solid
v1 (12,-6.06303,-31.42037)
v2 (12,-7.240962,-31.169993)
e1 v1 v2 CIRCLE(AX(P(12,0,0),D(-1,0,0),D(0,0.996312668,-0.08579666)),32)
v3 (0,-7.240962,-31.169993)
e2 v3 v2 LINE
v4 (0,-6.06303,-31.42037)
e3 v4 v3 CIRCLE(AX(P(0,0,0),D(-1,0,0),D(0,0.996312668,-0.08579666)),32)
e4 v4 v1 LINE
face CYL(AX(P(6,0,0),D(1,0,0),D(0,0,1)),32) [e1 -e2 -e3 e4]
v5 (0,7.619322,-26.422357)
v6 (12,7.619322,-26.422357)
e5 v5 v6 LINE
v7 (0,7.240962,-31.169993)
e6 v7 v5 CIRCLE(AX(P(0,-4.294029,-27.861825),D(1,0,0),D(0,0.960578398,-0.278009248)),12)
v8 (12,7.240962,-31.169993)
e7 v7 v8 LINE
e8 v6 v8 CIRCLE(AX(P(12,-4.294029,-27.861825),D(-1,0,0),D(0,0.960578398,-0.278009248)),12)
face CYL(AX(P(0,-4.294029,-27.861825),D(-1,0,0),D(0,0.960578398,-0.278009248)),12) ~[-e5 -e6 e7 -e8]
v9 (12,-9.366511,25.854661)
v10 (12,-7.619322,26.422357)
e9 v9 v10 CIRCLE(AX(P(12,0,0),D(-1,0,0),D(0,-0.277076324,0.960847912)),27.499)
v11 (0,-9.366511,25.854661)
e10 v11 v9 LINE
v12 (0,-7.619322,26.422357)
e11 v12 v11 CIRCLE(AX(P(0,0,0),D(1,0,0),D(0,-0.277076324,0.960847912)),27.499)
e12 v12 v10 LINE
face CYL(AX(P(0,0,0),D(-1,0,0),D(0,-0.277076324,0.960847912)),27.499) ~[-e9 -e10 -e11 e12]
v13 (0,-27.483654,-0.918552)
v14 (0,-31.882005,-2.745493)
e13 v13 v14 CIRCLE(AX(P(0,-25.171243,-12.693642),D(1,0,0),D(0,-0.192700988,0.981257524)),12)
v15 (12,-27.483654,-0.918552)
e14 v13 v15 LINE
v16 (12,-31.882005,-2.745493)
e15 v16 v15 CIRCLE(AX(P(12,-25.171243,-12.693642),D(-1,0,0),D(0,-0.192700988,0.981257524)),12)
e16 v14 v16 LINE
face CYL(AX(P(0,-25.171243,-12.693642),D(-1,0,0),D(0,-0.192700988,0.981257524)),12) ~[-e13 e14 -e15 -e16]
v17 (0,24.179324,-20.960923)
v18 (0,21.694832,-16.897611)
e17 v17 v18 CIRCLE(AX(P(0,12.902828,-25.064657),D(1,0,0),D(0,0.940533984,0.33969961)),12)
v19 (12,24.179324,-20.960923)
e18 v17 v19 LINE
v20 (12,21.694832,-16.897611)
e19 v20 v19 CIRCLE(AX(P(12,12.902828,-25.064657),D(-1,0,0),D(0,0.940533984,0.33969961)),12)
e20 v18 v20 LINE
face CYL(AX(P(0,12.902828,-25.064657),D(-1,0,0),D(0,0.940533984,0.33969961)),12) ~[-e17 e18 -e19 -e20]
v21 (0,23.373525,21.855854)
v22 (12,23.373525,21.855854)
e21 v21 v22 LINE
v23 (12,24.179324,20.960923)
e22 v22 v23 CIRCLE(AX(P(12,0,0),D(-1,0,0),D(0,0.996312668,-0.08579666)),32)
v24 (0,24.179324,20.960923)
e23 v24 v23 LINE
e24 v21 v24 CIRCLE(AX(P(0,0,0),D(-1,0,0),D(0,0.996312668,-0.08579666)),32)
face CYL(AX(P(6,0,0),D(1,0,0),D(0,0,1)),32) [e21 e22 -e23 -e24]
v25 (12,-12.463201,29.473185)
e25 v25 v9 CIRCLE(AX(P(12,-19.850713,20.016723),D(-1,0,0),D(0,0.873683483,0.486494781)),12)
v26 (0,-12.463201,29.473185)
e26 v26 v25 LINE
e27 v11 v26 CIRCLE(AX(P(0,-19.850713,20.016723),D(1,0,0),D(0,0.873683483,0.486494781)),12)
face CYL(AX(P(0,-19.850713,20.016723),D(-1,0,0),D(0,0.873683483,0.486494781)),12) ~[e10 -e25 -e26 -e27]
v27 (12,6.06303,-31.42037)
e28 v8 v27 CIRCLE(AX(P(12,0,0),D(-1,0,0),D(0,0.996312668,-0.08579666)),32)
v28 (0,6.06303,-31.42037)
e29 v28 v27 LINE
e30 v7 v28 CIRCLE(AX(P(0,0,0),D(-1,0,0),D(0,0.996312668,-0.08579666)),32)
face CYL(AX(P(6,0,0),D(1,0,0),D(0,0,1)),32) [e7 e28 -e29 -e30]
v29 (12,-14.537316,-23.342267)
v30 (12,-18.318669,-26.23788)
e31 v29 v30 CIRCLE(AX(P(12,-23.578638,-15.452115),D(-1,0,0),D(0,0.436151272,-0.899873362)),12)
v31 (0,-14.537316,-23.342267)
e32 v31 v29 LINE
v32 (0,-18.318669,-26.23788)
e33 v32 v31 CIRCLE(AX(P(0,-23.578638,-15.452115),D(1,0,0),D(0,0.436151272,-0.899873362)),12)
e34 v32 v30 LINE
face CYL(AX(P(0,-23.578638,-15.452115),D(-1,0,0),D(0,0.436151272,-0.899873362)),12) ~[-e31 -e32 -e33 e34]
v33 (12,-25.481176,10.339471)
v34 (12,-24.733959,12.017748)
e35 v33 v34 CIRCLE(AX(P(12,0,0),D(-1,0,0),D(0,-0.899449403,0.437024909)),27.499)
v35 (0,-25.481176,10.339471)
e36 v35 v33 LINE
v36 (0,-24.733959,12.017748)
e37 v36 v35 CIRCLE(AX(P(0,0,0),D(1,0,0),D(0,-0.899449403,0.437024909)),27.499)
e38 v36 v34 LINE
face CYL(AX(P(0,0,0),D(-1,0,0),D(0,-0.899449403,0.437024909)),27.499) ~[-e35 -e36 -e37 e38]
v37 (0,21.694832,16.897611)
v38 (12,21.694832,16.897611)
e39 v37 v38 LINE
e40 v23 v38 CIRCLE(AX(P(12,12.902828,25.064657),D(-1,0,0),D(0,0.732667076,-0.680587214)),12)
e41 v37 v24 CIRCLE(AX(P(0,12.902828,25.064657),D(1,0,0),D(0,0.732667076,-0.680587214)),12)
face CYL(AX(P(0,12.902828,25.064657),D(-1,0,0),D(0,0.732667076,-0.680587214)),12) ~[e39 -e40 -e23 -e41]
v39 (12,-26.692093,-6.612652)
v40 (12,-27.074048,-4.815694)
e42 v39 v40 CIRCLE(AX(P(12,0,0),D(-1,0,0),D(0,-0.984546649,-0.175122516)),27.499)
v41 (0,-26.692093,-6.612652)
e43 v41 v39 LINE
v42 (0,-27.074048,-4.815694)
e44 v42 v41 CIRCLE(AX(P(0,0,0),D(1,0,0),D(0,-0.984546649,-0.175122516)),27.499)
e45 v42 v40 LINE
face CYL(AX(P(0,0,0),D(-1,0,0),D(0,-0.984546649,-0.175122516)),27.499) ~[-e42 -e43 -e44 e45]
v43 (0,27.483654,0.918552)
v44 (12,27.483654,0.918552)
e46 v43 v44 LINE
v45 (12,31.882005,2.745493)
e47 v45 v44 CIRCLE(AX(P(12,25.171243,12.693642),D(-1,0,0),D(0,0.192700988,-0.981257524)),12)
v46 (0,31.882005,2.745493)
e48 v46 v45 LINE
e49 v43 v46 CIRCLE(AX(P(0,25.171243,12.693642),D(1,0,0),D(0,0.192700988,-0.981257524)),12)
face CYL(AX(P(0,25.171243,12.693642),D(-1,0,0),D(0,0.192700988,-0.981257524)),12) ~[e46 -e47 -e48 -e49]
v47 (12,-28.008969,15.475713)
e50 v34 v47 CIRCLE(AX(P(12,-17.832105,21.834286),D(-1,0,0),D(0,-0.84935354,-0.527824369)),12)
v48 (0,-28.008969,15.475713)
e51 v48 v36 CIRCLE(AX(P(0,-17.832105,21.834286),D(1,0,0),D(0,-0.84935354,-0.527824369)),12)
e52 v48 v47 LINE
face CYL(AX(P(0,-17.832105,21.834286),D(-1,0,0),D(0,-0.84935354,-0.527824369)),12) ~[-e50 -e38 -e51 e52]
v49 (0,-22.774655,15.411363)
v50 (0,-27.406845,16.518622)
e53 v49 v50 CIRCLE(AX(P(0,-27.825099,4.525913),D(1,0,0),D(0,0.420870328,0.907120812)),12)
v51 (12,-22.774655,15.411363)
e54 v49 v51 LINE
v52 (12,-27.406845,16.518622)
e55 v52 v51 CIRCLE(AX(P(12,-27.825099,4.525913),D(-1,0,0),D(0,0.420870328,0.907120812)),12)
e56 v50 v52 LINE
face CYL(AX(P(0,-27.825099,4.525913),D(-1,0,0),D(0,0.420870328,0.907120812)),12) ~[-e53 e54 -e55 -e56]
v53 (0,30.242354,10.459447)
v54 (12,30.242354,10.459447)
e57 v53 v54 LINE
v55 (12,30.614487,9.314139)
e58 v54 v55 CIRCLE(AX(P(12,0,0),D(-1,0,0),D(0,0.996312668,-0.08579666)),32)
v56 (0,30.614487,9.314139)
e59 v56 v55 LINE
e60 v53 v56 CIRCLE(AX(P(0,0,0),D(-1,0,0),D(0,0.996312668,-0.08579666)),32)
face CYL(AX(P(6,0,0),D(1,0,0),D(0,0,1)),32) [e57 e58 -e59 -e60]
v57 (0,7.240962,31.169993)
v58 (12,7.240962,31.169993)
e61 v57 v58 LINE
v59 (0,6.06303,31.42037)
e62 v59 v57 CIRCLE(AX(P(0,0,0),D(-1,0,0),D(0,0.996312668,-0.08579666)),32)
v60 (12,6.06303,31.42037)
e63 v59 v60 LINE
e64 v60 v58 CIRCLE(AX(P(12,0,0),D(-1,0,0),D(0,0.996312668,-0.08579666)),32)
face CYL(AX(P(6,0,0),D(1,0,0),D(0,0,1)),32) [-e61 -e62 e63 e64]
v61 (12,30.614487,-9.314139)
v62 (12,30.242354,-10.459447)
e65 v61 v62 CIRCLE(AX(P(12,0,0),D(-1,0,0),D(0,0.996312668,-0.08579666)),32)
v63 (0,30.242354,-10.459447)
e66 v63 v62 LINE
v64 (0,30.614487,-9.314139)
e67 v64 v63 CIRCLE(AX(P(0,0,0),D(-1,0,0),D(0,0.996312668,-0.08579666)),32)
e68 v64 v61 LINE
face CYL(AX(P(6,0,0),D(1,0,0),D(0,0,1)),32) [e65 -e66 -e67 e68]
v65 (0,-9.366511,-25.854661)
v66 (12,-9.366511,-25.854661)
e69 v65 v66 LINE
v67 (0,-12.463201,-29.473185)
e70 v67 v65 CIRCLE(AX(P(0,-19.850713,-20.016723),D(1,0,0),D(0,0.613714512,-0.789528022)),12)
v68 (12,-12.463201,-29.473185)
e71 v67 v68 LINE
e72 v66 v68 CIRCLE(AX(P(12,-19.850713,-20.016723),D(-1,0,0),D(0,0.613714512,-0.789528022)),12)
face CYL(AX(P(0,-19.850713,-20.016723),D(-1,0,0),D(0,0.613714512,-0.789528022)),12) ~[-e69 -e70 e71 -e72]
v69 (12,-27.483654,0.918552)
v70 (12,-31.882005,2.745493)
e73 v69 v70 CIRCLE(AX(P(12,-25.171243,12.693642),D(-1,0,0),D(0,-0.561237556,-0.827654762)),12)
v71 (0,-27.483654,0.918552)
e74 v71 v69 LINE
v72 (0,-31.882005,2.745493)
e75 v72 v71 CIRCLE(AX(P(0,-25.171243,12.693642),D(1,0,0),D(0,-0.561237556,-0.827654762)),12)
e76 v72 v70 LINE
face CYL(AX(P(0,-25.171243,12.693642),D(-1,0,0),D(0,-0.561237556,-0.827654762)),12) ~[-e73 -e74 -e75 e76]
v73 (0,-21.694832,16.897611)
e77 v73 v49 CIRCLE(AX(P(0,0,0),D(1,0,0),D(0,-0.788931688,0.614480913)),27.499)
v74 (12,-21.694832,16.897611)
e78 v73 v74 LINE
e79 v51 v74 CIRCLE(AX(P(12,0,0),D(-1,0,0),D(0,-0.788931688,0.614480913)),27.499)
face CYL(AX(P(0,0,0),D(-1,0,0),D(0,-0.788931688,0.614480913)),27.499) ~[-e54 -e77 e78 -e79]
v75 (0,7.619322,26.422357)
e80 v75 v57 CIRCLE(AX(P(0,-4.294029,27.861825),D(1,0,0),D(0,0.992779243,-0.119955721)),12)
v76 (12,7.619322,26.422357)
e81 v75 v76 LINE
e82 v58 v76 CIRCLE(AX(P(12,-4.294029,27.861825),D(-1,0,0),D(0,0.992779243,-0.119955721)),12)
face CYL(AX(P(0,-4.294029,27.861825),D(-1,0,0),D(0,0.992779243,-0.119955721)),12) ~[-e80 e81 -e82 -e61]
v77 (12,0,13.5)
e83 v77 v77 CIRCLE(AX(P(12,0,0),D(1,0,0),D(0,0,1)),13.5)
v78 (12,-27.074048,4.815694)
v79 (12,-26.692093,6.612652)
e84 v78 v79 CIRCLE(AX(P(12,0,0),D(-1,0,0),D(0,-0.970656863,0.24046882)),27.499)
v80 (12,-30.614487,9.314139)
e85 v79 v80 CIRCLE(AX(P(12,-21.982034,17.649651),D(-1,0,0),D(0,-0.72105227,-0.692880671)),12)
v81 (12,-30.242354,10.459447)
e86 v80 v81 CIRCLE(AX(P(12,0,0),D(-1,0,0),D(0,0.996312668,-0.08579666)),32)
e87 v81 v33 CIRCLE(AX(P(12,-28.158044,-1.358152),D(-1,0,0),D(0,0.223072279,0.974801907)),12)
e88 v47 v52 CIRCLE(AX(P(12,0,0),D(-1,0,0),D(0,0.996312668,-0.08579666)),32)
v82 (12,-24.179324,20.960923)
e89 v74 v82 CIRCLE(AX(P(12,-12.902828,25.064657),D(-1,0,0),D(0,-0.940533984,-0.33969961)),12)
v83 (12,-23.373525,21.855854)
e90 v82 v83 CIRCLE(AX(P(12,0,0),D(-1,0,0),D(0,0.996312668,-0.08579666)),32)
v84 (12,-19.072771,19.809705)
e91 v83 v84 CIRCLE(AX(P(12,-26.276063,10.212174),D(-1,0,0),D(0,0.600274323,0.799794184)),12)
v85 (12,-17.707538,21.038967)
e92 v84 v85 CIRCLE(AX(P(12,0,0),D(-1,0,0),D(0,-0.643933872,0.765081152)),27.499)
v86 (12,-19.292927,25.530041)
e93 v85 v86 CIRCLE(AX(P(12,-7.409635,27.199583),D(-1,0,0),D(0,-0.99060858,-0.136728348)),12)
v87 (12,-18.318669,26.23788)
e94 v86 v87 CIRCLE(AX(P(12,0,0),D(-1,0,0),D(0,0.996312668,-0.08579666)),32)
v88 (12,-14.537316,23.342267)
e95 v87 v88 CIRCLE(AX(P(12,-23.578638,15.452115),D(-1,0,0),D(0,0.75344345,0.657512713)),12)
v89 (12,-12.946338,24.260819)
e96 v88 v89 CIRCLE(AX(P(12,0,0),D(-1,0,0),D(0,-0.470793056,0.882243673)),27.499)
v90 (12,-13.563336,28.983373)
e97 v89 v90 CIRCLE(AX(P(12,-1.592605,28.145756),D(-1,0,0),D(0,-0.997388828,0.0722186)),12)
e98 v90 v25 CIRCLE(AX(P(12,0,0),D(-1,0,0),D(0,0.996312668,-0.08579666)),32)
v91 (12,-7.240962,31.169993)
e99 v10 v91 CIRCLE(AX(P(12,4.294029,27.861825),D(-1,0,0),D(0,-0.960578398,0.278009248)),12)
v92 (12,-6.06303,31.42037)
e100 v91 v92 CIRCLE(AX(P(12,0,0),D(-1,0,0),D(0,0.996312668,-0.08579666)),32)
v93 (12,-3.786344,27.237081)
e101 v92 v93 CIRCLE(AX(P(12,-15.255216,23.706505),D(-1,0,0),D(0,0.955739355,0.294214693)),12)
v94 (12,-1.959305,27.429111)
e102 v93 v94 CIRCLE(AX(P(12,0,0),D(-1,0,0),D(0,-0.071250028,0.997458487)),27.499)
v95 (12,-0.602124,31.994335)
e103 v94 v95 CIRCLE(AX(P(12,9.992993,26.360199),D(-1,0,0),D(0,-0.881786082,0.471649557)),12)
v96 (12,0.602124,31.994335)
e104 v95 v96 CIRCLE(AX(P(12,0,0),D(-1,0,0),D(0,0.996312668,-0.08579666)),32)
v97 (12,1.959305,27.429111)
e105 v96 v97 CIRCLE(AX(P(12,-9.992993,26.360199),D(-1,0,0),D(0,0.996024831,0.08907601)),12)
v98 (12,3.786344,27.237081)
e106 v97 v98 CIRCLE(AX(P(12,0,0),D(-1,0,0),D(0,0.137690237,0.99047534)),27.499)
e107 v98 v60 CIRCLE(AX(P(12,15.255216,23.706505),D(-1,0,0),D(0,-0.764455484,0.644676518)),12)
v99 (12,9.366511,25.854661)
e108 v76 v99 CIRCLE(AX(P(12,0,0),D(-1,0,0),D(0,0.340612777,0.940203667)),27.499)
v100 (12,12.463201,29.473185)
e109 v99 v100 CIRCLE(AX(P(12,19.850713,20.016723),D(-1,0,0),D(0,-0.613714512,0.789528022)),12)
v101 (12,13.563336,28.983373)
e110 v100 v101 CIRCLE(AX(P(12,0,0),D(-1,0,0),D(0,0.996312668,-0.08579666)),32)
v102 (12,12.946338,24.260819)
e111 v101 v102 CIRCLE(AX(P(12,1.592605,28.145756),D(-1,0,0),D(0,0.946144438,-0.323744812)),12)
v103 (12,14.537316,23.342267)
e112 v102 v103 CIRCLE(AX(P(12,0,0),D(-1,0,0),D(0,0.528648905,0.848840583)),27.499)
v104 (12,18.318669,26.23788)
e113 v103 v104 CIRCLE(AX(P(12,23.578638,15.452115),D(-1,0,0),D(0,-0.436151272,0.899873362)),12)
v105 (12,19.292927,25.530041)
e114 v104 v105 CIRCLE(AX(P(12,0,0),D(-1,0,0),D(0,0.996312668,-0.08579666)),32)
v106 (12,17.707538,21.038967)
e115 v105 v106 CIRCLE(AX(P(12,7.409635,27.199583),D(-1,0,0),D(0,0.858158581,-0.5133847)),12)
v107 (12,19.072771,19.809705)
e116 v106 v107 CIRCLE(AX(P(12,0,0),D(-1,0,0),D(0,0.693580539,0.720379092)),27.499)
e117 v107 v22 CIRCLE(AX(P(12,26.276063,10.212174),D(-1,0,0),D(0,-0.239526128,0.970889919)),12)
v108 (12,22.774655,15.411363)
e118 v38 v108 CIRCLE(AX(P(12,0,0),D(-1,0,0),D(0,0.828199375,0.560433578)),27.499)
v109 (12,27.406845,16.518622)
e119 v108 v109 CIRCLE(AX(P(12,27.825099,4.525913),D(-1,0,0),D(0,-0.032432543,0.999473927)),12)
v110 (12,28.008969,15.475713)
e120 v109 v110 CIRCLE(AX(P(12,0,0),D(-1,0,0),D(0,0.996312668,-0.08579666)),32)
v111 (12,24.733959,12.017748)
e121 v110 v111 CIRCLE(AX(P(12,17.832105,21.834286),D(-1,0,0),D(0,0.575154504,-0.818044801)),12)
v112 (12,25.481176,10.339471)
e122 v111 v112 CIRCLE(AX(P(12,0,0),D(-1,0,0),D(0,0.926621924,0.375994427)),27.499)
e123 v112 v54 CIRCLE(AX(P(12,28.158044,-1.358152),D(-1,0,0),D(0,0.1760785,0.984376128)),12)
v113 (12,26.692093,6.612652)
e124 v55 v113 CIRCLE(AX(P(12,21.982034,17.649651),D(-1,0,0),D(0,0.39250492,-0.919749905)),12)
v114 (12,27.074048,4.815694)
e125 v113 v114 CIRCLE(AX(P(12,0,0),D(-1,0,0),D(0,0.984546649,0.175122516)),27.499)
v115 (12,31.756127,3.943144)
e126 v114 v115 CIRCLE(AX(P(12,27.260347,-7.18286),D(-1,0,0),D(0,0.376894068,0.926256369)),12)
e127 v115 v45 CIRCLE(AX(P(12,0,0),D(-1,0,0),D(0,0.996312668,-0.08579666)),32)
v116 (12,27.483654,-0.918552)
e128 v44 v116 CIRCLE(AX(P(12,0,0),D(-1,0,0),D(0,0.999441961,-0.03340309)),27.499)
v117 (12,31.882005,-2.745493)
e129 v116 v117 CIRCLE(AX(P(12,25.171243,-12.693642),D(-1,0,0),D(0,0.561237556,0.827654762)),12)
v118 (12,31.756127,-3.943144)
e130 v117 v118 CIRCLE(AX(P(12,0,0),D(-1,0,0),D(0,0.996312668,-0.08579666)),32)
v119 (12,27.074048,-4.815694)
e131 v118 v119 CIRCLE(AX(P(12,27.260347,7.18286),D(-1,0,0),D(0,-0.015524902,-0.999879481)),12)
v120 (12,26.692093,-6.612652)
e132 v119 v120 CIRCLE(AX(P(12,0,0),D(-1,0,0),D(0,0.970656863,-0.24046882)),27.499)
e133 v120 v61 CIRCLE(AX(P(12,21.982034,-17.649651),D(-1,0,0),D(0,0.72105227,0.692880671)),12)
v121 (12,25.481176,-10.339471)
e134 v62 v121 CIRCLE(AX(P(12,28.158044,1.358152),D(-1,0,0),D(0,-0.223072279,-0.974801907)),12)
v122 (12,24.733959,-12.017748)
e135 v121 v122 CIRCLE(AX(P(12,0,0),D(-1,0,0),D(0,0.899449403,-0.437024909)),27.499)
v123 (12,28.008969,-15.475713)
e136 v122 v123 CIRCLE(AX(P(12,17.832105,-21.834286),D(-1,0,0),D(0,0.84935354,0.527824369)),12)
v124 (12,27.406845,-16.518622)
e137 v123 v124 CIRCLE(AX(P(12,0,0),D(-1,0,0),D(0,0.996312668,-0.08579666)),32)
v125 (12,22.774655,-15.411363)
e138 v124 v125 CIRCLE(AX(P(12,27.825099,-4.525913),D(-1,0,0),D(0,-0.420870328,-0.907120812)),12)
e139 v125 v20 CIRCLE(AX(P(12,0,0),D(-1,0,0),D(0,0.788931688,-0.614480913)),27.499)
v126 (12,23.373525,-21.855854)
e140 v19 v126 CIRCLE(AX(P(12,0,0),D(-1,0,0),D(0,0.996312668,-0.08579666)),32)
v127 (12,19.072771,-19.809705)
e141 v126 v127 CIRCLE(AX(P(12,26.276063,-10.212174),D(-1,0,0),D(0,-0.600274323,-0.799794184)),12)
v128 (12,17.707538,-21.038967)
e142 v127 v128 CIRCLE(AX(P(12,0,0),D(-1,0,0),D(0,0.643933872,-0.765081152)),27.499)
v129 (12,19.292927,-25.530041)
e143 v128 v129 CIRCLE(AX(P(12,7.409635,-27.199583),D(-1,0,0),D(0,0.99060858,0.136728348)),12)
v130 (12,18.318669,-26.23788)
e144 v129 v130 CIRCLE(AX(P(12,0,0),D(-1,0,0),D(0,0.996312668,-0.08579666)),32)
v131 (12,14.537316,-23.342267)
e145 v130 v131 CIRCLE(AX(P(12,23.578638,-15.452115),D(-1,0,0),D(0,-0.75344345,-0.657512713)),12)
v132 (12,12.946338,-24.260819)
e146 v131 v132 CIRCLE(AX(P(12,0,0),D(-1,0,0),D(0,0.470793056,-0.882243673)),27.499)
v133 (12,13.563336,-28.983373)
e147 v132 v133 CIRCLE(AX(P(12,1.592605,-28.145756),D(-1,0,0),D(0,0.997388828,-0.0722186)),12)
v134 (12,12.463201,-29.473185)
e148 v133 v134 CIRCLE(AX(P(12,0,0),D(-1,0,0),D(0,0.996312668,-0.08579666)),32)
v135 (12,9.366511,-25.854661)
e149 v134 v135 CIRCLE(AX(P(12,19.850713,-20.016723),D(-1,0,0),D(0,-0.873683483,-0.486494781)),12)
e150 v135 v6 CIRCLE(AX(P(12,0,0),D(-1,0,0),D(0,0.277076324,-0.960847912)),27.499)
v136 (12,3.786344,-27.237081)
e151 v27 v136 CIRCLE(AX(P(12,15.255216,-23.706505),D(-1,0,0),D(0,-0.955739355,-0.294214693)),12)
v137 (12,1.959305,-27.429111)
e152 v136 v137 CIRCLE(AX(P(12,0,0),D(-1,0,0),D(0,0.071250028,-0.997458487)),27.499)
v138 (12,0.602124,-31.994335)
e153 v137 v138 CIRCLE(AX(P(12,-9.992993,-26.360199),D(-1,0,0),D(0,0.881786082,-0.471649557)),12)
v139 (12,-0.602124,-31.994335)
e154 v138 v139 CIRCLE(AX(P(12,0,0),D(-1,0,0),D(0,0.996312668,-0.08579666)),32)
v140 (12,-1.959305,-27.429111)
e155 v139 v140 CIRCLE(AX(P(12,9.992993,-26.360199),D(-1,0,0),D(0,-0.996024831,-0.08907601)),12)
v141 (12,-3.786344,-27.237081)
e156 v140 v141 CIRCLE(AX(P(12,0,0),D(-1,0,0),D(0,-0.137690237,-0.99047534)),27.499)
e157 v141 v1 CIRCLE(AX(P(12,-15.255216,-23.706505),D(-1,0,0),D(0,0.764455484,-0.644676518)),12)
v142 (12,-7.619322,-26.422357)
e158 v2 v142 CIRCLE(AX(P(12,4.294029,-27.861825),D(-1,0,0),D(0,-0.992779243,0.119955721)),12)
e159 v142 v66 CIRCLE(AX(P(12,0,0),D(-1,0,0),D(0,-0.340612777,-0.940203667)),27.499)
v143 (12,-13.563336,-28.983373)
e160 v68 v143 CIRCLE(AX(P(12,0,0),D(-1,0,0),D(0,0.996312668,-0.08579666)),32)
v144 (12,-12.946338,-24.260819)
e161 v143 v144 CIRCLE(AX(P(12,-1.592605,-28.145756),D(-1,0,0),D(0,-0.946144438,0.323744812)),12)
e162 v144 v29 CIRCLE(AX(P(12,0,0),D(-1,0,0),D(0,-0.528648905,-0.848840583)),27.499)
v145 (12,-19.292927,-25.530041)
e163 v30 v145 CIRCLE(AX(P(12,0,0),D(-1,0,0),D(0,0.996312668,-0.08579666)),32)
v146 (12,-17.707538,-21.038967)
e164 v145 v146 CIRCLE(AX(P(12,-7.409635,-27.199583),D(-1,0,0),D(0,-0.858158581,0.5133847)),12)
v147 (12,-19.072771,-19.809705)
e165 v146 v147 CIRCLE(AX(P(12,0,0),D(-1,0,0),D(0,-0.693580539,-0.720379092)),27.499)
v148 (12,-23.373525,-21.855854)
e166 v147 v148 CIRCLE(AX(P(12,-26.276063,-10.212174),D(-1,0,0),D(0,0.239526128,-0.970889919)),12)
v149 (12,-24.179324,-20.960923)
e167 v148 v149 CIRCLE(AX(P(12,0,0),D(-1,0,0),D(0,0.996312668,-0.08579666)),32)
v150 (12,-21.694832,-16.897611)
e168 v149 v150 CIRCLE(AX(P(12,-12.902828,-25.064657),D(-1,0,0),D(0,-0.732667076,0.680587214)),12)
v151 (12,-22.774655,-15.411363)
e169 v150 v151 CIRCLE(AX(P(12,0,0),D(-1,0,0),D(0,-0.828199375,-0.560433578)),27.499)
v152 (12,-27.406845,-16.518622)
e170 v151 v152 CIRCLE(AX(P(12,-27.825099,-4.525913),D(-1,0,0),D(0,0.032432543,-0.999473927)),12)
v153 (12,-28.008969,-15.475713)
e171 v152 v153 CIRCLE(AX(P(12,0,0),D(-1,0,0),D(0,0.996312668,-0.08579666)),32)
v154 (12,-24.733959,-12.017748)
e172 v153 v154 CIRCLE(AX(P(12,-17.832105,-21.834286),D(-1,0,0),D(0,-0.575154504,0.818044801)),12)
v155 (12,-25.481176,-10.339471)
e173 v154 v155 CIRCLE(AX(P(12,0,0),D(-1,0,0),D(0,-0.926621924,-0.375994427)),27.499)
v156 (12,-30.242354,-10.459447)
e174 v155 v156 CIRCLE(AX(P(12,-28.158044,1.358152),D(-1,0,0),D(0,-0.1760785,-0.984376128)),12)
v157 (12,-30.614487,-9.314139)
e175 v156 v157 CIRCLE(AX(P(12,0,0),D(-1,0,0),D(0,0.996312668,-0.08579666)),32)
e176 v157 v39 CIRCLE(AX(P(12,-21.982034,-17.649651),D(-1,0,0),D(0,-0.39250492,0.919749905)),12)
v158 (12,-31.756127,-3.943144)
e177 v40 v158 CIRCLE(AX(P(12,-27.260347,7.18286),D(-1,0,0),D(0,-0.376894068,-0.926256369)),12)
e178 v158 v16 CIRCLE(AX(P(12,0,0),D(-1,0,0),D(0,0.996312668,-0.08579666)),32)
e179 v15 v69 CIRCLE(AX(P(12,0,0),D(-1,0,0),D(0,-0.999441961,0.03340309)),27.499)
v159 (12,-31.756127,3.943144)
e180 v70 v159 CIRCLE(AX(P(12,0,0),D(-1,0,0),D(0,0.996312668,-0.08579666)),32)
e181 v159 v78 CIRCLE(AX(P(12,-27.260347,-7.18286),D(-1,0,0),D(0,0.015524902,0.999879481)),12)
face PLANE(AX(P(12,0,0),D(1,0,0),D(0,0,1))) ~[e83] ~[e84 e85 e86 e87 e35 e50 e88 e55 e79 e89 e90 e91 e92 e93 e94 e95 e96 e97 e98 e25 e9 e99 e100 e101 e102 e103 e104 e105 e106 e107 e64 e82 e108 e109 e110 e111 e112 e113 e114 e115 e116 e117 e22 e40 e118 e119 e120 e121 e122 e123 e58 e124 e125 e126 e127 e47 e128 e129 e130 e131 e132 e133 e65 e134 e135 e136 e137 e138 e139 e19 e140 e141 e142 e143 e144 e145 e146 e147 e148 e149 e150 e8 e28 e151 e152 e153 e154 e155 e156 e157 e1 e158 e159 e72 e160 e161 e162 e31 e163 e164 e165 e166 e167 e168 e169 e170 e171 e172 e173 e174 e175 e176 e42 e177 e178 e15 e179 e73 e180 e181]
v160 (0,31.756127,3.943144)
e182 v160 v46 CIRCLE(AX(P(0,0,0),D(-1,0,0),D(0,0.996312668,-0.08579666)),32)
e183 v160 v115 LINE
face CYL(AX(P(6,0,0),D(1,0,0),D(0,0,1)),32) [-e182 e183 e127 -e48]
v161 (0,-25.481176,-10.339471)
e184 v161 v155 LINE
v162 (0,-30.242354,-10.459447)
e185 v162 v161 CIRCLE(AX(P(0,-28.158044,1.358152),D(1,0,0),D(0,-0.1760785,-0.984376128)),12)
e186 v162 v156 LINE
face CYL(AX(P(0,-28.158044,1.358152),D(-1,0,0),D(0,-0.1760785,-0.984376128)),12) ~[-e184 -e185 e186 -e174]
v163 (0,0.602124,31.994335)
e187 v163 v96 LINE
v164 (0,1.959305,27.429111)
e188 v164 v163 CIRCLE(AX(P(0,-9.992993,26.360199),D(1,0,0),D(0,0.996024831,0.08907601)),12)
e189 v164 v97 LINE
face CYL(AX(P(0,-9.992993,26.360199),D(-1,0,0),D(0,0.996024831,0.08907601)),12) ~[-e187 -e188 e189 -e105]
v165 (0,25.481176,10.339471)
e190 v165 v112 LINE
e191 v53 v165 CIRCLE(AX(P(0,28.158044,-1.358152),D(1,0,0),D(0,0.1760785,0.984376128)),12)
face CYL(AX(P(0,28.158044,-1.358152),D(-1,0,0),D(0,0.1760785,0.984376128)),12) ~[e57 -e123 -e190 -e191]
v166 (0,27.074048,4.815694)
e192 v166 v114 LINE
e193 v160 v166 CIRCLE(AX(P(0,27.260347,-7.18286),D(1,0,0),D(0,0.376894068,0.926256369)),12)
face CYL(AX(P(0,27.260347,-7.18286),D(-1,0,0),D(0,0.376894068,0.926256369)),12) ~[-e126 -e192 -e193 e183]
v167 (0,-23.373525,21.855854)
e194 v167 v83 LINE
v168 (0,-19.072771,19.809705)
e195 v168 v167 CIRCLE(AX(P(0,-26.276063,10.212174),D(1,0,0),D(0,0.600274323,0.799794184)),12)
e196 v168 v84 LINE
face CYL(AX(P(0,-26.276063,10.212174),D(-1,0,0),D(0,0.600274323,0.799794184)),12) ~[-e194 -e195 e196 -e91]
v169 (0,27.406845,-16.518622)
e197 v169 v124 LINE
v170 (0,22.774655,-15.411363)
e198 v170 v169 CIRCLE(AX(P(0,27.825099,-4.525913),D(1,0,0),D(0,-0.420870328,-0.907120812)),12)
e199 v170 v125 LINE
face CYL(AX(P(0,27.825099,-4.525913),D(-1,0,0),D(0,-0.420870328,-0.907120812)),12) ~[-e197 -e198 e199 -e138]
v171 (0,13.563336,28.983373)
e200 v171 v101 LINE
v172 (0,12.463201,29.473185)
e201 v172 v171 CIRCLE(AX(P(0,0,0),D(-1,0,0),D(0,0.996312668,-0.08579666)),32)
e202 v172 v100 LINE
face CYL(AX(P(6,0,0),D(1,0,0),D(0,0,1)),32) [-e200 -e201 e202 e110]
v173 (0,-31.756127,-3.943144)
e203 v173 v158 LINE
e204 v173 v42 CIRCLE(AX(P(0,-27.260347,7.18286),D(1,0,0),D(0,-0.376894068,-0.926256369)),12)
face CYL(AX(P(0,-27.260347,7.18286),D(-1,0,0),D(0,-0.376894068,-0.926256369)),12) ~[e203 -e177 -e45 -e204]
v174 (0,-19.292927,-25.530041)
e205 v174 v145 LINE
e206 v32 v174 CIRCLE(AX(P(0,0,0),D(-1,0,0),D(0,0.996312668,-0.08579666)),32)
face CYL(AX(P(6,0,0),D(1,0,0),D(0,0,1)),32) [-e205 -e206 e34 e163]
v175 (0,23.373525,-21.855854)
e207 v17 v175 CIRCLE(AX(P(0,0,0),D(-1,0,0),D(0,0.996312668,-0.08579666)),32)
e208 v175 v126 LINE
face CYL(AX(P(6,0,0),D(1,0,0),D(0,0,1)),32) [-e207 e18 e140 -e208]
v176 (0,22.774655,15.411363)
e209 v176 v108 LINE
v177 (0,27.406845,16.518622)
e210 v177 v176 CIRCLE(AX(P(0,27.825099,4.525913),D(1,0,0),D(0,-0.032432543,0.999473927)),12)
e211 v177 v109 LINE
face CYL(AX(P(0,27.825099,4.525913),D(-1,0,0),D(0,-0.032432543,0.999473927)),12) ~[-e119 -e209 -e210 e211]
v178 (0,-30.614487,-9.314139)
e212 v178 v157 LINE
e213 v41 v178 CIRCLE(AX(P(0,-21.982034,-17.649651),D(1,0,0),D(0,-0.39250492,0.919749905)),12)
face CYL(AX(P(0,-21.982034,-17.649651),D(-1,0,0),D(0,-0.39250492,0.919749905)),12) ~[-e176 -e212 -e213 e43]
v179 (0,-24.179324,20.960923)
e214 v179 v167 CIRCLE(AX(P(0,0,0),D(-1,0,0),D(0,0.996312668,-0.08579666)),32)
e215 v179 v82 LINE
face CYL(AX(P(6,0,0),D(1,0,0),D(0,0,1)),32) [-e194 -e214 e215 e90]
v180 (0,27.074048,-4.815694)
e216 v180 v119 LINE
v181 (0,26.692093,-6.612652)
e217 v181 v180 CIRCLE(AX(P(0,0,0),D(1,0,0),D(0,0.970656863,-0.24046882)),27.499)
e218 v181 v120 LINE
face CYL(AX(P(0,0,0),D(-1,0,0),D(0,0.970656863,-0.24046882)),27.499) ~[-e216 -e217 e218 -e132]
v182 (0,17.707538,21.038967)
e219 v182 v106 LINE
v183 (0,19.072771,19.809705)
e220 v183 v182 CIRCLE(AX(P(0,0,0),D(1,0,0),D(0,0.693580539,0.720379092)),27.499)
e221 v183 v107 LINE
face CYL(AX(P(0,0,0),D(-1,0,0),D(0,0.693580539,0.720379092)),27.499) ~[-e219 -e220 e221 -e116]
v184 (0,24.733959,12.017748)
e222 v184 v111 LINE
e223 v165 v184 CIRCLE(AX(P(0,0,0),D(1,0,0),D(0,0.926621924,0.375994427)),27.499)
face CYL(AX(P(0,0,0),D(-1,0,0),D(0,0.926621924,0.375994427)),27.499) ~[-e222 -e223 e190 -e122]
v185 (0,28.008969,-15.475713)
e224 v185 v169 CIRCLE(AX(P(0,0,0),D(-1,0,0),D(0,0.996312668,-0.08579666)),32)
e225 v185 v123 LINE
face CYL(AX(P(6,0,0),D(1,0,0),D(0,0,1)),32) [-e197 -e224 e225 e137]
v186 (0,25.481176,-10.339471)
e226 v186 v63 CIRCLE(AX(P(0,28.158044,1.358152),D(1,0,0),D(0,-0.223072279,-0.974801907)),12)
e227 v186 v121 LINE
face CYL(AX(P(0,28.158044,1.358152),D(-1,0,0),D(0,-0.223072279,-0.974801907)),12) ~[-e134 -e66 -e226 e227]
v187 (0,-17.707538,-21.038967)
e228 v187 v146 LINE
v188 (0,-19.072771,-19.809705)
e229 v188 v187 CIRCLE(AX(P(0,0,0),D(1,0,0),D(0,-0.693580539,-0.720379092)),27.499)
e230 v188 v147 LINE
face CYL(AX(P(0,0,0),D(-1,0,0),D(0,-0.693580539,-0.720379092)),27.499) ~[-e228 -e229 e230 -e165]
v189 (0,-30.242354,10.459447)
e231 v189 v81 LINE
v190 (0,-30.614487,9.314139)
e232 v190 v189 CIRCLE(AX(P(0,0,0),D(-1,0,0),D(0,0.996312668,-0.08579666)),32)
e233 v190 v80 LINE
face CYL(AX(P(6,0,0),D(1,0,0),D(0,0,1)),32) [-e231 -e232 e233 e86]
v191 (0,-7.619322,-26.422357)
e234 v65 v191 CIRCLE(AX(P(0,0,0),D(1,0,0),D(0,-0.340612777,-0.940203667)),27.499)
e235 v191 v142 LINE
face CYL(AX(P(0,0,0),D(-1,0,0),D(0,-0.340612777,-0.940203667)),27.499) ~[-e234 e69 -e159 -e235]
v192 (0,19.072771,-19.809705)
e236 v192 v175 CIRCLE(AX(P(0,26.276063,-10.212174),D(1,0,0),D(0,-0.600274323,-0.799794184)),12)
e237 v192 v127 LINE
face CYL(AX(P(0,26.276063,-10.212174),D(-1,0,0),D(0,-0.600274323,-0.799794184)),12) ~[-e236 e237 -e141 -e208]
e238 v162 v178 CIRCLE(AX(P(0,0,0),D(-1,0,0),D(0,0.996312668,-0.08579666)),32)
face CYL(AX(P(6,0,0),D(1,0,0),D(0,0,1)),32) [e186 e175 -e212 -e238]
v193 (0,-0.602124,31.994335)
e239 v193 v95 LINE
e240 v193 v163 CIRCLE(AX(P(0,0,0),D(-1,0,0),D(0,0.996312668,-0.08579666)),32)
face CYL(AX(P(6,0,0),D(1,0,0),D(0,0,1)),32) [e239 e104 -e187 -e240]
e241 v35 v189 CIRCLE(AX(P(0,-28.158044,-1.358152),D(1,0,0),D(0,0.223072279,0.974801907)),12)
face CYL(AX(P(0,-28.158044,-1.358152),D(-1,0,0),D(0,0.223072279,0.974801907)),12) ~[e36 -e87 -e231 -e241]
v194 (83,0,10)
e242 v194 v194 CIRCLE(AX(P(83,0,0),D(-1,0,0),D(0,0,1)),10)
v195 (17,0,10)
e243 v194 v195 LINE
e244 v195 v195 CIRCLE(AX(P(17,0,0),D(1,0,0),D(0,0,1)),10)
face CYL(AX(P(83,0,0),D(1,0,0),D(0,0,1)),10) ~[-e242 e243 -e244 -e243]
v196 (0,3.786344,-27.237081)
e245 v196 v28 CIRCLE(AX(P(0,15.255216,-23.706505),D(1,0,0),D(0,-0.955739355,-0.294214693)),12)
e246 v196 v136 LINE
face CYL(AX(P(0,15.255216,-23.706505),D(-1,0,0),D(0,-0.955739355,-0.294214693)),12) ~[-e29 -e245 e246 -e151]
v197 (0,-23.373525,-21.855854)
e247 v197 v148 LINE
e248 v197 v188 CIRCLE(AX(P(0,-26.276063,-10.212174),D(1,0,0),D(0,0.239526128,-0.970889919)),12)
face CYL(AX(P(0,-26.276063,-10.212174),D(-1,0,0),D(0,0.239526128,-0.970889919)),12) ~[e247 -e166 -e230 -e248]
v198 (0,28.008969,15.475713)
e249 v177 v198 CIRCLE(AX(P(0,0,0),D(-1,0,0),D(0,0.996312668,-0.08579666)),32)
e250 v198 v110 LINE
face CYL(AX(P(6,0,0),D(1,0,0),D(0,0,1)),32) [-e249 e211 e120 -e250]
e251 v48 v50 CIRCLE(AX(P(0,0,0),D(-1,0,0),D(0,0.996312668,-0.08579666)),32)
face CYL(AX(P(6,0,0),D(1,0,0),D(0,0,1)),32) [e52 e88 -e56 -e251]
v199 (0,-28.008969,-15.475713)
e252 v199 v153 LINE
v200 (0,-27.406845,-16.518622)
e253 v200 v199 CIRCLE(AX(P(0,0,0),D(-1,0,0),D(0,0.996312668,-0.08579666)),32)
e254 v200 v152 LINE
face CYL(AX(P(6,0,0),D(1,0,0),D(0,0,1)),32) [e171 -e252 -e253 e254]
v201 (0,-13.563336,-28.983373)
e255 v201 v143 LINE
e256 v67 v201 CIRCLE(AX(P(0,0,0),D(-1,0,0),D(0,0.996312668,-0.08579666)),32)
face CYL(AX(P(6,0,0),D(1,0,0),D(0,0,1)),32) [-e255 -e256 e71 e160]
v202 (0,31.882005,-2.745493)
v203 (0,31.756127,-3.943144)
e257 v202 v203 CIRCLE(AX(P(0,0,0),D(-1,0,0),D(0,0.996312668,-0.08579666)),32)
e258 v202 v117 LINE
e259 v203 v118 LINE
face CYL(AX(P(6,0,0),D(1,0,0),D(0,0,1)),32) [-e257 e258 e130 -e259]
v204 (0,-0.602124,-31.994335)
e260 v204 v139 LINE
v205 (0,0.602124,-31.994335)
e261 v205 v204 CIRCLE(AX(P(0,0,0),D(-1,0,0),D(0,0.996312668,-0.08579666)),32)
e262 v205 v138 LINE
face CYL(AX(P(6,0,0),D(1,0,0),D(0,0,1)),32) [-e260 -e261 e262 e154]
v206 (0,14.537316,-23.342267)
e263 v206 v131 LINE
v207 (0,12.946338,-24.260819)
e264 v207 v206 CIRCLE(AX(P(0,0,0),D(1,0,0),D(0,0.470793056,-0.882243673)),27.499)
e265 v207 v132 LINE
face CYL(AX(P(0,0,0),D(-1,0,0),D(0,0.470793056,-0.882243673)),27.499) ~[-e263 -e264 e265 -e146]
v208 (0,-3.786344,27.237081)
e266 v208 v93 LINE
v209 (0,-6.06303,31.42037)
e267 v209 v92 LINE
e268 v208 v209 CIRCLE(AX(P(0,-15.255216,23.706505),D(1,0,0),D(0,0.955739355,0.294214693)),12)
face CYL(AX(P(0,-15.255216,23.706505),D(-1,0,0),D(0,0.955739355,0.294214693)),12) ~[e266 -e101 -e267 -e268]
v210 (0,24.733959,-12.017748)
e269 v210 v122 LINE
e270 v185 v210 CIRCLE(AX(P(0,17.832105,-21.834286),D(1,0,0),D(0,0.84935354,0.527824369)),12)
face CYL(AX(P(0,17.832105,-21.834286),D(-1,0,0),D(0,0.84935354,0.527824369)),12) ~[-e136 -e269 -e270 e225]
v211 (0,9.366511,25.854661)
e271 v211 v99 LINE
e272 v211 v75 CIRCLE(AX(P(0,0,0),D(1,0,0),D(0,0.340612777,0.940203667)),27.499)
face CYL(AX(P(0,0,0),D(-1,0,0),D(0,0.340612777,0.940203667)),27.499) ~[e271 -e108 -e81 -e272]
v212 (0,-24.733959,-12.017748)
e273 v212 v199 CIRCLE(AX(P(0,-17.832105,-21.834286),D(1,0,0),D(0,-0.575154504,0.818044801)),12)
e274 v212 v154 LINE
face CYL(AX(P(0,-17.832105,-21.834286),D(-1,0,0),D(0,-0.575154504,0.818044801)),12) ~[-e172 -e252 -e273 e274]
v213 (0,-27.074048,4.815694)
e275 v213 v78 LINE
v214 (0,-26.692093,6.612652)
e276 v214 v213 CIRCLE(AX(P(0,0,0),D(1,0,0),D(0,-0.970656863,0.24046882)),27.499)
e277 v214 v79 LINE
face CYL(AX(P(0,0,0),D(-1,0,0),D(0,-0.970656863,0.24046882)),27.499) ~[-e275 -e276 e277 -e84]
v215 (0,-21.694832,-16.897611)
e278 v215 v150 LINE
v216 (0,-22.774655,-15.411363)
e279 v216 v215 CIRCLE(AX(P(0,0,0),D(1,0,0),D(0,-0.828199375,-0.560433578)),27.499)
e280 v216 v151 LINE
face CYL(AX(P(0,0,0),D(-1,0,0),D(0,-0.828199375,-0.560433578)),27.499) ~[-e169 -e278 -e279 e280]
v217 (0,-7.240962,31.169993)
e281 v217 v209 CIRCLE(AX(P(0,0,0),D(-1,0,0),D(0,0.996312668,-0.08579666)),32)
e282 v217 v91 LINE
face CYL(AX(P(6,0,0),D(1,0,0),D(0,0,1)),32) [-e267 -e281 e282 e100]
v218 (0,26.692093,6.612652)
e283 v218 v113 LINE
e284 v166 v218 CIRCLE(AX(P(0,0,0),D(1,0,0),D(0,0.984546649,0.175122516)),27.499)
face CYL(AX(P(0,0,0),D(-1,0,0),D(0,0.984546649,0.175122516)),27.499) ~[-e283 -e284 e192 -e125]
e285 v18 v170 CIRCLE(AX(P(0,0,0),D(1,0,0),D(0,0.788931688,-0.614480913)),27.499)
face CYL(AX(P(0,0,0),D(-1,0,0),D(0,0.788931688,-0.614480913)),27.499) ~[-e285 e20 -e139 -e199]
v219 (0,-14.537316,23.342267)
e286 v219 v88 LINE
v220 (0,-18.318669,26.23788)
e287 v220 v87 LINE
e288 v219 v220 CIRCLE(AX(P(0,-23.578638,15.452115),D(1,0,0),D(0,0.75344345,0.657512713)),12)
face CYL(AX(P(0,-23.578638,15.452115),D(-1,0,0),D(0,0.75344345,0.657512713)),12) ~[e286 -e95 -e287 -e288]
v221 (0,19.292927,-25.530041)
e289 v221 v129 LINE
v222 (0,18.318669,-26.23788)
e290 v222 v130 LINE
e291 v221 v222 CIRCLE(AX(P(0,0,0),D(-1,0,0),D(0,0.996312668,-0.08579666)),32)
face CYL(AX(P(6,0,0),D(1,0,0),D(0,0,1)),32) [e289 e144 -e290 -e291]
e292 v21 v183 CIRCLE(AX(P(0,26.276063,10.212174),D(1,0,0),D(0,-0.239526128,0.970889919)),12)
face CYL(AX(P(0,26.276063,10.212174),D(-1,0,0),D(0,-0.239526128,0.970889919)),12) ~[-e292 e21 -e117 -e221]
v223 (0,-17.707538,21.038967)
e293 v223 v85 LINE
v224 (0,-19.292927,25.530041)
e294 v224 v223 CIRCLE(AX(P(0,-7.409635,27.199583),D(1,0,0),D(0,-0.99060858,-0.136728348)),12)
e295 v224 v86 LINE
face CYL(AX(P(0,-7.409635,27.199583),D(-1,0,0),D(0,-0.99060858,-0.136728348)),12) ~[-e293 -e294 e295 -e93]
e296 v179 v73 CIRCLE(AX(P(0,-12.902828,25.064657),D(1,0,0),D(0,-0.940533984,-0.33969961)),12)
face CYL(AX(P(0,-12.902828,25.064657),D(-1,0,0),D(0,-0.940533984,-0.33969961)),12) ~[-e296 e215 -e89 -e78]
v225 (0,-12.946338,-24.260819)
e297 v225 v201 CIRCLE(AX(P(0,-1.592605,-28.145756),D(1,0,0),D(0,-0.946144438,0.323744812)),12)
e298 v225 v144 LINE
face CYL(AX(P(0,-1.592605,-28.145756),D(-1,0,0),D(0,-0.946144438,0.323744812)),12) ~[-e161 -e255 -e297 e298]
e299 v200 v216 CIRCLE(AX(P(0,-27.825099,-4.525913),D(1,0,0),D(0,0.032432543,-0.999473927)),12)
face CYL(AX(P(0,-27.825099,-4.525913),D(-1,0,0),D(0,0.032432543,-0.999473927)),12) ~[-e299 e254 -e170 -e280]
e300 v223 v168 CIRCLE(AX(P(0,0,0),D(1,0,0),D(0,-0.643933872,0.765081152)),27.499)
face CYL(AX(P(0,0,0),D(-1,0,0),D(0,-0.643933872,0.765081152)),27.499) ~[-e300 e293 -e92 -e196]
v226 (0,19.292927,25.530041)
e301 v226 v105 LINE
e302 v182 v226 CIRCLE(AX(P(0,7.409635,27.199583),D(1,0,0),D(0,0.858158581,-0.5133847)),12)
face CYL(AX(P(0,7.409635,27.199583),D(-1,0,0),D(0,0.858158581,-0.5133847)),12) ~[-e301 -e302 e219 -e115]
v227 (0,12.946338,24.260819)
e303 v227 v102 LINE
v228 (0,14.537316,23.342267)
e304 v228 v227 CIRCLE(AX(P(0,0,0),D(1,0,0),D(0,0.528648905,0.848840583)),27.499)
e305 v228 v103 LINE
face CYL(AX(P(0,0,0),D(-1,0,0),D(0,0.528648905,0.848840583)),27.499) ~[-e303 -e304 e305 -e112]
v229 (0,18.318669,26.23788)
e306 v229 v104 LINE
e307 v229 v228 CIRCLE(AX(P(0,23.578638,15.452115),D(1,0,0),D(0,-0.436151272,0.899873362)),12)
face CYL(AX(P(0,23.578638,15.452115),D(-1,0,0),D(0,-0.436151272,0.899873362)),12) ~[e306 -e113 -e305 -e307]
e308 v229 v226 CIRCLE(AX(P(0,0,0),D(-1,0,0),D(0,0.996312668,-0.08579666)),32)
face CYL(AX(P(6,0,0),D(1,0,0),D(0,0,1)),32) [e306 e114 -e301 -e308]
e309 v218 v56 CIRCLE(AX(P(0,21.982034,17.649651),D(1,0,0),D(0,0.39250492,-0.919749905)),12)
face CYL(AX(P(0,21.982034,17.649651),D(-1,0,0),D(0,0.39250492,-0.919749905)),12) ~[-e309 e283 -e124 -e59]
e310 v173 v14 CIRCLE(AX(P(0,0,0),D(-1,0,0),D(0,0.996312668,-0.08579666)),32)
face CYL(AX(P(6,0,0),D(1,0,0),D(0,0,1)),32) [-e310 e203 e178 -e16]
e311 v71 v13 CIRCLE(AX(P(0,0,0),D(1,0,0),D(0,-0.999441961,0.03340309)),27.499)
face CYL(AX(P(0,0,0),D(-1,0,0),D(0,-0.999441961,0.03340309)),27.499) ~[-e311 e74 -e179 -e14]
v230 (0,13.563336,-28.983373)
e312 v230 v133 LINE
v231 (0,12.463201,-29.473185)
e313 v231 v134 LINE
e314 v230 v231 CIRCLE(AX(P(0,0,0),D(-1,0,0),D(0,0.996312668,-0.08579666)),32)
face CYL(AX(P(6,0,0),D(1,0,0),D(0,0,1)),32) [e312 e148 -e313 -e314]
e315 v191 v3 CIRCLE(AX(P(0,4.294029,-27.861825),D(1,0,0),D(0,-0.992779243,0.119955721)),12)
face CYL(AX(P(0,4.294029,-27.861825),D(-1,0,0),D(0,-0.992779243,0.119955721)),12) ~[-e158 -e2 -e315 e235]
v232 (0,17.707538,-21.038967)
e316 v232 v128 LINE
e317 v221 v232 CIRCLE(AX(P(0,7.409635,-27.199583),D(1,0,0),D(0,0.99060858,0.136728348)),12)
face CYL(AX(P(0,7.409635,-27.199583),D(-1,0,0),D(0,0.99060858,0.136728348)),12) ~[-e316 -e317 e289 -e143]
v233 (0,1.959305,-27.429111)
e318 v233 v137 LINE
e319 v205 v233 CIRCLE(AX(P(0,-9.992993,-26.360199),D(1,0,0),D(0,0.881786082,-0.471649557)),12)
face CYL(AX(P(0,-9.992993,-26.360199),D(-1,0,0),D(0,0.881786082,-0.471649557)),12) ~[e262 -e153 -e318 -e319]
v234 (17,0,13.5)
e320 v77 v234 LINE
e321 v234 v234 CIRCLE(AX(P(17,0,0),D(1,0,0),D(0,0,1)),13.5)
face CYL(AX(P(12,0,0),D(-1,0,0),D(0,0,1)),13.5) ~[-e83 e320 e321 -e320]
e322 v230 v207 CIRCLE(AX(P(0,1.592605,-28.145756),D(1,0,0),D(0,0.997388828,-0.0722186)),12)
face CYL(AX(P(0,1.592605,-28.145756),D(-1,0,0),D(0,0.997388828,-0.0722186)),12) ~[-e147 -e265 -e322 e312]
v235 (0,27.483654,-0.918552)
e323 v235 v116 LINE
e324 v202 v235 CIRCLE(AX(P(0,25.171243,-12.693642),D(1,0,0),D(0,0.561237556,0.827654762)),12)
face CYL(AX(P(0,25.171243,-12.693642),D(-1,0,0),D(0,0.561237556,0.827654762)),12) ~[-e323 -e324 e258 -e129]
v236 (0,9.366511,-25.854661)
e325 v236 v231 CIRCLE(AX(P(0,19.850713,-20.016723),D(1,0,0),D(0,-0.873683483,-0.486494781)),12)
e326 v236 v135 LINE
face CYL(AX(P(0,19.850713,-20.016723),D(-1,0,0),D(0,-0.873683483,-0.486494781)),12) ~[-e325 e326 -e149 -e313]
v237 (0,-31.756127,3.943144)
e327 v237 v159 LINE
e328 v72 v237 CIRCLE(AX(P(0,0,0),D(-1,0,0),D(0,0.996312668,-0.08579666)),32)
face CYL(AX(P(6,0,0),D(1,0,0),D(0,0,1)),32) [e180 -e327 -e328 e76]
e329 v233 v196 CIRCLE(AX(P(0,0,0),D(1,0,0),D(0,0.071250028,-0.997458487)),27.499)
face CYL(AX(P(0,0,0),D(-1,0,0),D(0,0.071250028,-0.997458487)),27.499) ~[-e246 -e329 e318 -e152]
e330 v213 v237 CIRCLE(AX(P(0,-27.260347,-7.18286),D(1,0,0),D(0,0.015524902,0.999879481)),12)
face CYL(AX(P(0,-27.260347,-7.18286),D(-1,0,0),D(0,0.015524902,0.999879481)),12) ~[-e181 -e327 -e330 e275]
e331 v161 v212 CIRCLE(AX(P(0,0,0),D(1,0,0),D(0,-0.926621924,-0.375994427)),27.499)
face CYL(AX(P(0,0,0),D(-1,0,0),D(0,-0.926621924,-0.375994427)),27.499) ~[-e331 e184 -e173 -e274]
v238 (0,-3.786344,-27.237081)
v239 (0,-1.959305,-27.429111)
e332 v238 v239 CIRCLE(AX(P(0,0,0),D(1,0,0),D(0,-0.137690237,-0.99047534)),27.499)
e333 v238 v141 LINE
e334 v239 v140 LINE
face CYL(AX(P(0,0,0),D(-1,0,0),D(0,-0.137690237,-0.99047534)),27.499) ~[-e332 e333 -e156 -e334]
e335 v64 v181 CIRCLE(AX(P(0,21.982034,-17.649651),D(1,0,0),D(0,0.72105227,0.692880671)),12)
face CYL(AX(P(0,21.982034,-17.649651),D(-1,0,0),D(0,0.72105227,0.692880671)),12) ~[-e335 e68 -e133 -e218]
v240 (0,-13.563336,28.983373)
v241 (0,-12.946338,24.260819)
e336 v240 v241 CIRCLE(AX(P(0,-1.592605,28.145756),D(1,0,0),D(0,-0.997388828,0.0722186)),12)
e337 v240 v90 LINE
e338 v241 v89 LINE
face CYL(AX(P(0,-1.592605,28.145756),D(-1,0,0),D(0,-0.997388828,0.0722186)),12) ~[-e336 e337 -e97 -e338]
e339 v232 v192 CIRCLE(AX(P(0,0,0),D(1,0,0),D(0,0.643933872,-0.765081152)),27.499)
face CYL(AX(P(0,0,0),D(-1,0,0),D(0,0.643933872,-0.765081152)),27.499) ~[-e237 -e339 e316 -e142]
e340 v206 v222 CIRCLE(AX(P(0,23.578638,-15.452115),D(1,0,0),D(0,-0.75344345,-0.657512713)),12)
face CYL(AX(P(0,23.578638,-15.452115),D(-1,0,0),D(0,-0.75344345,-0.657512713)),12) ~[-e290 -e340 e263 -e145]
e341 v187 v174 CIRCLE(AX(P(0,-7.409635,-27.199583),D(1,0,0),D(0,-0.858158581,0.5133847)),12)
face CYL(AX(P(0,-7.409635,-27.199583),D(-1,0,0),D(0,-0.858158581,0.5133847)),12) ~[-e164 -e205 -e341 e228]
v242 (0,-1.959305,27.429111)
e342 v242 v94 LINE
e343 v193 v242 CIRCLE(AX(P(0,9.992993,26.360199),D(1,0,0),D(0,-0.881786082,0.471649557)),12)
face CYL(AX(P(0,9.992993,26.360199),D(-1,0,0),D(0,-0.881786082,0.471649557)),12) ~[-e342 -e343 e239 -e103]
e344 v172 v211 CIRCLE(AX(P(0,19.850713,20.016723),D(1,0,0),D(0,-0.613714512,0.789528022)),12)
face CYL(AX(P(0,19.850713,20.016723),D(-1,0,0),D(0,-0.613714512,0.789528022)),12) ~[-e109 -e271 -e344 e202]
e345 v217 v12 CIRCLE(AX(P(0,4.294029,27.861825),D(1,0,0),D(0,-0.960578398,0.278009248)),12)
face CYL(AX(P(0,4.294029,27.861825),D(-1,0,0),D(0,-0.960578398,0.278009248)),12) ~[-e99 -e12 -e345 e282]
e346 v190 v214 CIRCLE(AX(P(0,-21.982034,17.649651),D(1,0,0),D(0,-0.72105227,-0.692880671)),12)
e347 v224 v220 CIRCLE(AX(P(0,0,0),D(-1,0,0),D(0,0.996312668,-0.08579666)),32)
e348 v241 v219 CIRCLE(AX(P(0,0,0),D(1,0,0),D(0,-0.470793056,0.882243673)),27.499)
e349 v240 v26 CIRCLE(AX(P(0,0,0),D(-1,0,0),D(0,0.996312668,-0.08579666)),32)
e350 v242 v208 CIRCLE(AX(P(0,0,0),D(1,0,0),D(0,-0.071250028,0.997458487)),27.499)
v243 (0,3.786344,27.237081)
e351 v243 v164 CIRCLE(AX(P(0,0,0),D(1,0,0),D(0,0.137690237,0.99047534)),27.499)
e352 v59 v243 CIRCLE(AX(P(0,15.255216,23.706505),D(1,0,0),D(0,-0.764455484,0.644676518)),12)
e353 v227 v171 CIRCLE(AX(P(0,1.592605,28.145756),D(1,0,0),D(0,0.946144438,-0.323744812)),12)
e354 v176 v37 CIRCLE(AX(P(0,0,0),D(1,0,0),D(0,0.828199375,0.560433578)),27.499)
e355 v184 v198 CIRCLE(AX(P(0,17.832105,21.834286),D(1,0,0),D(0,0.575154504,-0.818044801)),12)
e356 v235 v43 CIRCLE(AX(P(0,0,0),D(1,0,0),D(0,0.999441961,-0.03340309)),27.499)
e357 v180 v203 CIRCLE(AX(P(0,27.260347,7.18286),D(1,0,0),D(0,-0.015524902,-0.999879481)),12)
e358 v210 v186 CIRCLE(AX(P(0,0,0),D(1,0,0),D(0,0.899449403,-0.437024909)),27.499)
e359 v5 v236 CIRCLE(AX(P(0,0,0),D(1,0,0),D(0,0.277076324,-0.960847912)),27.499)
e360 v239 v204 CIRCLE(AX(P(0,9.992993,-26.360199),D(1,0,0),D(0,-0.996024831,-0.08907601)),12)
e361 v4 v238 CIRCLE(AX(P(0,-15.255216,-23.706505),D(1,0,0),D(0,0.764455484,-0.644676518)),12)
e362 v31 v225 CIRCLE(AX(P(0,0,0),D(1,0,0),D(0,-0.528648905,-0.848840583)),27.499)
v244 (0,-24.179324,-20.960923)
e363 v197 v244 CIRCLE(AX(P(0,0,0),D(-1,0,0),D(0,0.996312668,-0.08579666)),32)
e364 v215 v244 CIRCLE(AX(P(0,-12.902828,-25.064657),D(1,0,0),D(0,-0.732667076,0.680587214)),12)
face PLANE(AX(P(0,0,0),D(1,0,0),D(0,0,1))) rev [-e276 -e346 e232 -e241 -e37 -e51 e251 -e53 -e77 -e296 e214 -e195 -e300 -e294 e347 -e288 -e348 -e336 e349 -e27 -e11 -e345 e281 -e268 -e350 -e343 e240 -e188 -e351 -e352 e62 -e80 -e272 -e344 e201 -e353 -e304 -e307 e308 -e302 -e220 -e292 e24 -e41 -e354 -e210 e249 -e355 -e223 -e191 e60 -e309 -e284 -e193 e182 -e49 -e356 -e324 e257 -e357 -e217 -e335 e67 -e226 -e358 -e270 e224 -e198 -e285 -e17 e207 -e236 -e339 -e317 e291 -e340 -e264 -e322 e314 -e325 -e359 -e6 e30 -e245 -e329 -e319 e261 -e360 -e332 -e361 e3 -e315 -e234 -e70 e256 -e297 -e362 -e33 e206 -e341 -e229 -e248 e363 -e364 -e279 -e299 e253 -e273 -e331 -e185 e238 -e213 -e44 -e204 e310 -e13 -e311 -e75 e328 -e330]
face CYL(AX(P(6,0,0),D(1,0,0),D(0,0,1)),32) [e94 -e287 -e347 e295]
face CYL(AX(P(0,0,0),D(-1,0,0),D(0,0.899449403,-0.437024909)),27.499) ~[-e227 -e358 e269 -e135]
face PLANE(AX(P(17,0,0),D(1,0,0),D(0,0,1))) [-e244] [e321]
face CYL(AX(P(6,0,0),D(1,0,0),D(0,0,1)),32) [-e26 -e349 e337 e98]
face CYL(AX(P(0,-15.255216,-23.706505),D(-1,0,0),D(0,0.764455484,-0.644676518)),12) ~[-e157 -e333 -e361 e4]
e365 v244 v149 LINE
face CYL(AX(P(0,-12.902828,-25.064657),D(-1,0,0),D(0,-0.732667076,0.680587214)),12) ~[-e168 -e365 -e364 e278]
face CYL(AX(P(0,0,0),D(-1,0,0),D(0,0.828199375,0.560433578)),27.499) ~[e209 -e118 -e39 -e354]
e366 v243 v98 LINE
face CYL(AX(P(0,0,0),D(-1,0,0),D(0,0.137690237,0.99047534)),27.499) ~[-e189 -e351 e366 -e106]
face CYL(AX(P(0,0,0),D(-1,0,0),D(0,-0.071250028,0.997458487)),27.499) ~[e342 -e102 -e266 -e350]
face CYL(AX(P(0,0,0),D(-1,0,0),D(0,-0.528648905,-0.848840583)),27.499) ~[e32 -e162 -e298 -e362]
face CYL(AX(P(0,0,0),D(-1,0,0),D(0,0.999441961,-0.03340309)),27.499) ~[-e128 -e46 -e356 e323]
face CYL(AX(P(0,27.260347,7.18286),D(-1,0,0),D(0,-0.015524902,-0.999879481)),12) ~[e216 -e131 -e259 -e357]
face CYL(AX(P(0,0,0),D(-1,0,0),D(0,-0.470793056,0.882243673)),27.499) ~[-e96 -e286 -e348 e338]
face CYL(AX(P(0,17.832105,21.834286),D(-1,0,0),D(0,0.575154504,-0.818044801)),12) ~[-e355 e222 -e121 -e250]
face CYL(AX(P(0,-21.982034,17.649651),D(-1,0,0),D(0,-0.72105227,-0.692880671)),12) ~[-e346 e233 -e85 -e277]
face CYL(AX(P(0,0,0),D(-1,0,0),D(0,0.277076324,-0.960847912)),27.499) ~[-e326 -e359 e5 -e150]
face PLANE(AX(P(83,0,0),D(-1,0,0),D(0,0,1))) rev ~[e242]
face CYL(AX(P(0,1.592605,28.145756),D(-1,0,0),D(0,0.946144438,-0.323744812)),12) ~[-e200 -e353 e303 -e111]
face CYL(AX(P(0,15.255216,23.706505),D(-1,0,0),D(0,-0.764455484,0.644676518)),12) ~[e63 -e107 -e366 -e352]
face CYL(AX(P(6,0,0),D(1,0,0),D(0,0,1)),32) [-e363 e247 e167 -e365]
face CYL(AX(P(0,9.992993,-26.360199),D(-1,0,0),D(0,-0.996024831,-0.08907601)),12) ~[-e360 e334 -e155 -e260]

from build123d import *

# Parameters (mm, degrees)
BASPROSKE_W         = 12
BASPROSKE_H         = 32
TOOTHCUT_DEPTH      = 47.818799643
TEETHCUTS_COUNT     = 30
TEETHCUTS_ANGLE     = 348
BORSKE_R            = 10
BORE_DEPTH          = 50.0000508
BOSS_EXTRUDE1_START = -83
SKETCH1_R           = 10
BOSS_EXTRUDE1_DEPTH = 83
SKETCH3_R           = 13.5
BOSS_EXTRUDE2_DEPTH = 5


with BuildPart() as part:
    # BasProSke → Base-Revolve (revolve)
    with BuildSketch(Plane(origin=(0, 0, 0), x_dir=(1, 0, 0), z_dir=(0, 1, 0)), mode=Mode.PRIVATE) as base_revolve_sk:
        with Locations((6, 16)):
            Rectangle(BASPROSKE_W, BASPROSKE_H)
    revolve(base_revolve_sk.sketch.rotate(Axis((-10, 0, 0), (1, 0, 0)), 180), axis=Axis((-10, 0, 0), (1, 0, 0)))

    # TooCutSke → ToothCut (cut, through all)
    with BuildSketch(Plane(origin=(0, 0, 0), x_dir=(0, 0, -1), z_dir=(1, 0, 0))):
        with BuildLine():
            ThreePointArc((0.918551563, 27.483654488), (0, 27.499), (-0.918551563, 27.483654488))
            ThreePointArc((-0.918551563, 27.483654488), (-1.617208176, 29.787801627), (-2.761784709, 31.906093311))
            ThreePointArc((-2.761784709, 31.906093311), (0, 32.0254), (2.761784709, 31.906093311))
            ThreePointArc((2.761784709, 31.906093311), (1.617208176, 29.787801627), (0.918551563, 27.483654488))
        make_face()
    toothcut = extrude(amount=TOOTHCUT_DEPTH, mode=Mode.SUBTRACT)

    # TeethCuts: ToothCut ×30 about axis
    teethcuts_axis = Axis((-10, 0, 0), (1, 0, 0))
    for i in range(1, TEETHCUTS_COUNT):
        add(toothcut.rotate(teethcuts_axis, i * TEETHCUTS_ANGLE / (TEETHCUTS_COUNT - 1)), mode=Mode.SUBTRACT)

    # BorSke → Bore (cut, symmetric)
    with BuildSketch(Plane(origin=(0, 0, 0), x_dir=(0, 0, -1), z_dir=(1, 0, 0))):
        with Locations(Location((0, 0, 0), (0, 0, 180))):
            Circle(BORSKE_R)
    extrude(amount=BORE_DEPTH, both=True, mode=Mode.SUBTRACT)

    # Sketch1 → Boss-Extrude1 (add)
    with BuildSketch(Plane.ZY.offset(BOSS_EXTRUDE1_START)):
        Circle(SKETCH1_R)
    extrude(amount=BOSS_EXTRUDE1_DEPTH)

    # Sketch3 → Boss-Extrude2 (add)
    with BuildSketch(Plane(origin=(12, 0, 0), x_dir=(0, 0, -1), z_dir=(1, 0, 0))):
        with Locations(Location((0, 0, 0), (0, 0, 180))):
            Circle(SKETCH3_R)
    extrude(amount=BOSS_EXTRUDE2_DEPTH)


solid = part.part
